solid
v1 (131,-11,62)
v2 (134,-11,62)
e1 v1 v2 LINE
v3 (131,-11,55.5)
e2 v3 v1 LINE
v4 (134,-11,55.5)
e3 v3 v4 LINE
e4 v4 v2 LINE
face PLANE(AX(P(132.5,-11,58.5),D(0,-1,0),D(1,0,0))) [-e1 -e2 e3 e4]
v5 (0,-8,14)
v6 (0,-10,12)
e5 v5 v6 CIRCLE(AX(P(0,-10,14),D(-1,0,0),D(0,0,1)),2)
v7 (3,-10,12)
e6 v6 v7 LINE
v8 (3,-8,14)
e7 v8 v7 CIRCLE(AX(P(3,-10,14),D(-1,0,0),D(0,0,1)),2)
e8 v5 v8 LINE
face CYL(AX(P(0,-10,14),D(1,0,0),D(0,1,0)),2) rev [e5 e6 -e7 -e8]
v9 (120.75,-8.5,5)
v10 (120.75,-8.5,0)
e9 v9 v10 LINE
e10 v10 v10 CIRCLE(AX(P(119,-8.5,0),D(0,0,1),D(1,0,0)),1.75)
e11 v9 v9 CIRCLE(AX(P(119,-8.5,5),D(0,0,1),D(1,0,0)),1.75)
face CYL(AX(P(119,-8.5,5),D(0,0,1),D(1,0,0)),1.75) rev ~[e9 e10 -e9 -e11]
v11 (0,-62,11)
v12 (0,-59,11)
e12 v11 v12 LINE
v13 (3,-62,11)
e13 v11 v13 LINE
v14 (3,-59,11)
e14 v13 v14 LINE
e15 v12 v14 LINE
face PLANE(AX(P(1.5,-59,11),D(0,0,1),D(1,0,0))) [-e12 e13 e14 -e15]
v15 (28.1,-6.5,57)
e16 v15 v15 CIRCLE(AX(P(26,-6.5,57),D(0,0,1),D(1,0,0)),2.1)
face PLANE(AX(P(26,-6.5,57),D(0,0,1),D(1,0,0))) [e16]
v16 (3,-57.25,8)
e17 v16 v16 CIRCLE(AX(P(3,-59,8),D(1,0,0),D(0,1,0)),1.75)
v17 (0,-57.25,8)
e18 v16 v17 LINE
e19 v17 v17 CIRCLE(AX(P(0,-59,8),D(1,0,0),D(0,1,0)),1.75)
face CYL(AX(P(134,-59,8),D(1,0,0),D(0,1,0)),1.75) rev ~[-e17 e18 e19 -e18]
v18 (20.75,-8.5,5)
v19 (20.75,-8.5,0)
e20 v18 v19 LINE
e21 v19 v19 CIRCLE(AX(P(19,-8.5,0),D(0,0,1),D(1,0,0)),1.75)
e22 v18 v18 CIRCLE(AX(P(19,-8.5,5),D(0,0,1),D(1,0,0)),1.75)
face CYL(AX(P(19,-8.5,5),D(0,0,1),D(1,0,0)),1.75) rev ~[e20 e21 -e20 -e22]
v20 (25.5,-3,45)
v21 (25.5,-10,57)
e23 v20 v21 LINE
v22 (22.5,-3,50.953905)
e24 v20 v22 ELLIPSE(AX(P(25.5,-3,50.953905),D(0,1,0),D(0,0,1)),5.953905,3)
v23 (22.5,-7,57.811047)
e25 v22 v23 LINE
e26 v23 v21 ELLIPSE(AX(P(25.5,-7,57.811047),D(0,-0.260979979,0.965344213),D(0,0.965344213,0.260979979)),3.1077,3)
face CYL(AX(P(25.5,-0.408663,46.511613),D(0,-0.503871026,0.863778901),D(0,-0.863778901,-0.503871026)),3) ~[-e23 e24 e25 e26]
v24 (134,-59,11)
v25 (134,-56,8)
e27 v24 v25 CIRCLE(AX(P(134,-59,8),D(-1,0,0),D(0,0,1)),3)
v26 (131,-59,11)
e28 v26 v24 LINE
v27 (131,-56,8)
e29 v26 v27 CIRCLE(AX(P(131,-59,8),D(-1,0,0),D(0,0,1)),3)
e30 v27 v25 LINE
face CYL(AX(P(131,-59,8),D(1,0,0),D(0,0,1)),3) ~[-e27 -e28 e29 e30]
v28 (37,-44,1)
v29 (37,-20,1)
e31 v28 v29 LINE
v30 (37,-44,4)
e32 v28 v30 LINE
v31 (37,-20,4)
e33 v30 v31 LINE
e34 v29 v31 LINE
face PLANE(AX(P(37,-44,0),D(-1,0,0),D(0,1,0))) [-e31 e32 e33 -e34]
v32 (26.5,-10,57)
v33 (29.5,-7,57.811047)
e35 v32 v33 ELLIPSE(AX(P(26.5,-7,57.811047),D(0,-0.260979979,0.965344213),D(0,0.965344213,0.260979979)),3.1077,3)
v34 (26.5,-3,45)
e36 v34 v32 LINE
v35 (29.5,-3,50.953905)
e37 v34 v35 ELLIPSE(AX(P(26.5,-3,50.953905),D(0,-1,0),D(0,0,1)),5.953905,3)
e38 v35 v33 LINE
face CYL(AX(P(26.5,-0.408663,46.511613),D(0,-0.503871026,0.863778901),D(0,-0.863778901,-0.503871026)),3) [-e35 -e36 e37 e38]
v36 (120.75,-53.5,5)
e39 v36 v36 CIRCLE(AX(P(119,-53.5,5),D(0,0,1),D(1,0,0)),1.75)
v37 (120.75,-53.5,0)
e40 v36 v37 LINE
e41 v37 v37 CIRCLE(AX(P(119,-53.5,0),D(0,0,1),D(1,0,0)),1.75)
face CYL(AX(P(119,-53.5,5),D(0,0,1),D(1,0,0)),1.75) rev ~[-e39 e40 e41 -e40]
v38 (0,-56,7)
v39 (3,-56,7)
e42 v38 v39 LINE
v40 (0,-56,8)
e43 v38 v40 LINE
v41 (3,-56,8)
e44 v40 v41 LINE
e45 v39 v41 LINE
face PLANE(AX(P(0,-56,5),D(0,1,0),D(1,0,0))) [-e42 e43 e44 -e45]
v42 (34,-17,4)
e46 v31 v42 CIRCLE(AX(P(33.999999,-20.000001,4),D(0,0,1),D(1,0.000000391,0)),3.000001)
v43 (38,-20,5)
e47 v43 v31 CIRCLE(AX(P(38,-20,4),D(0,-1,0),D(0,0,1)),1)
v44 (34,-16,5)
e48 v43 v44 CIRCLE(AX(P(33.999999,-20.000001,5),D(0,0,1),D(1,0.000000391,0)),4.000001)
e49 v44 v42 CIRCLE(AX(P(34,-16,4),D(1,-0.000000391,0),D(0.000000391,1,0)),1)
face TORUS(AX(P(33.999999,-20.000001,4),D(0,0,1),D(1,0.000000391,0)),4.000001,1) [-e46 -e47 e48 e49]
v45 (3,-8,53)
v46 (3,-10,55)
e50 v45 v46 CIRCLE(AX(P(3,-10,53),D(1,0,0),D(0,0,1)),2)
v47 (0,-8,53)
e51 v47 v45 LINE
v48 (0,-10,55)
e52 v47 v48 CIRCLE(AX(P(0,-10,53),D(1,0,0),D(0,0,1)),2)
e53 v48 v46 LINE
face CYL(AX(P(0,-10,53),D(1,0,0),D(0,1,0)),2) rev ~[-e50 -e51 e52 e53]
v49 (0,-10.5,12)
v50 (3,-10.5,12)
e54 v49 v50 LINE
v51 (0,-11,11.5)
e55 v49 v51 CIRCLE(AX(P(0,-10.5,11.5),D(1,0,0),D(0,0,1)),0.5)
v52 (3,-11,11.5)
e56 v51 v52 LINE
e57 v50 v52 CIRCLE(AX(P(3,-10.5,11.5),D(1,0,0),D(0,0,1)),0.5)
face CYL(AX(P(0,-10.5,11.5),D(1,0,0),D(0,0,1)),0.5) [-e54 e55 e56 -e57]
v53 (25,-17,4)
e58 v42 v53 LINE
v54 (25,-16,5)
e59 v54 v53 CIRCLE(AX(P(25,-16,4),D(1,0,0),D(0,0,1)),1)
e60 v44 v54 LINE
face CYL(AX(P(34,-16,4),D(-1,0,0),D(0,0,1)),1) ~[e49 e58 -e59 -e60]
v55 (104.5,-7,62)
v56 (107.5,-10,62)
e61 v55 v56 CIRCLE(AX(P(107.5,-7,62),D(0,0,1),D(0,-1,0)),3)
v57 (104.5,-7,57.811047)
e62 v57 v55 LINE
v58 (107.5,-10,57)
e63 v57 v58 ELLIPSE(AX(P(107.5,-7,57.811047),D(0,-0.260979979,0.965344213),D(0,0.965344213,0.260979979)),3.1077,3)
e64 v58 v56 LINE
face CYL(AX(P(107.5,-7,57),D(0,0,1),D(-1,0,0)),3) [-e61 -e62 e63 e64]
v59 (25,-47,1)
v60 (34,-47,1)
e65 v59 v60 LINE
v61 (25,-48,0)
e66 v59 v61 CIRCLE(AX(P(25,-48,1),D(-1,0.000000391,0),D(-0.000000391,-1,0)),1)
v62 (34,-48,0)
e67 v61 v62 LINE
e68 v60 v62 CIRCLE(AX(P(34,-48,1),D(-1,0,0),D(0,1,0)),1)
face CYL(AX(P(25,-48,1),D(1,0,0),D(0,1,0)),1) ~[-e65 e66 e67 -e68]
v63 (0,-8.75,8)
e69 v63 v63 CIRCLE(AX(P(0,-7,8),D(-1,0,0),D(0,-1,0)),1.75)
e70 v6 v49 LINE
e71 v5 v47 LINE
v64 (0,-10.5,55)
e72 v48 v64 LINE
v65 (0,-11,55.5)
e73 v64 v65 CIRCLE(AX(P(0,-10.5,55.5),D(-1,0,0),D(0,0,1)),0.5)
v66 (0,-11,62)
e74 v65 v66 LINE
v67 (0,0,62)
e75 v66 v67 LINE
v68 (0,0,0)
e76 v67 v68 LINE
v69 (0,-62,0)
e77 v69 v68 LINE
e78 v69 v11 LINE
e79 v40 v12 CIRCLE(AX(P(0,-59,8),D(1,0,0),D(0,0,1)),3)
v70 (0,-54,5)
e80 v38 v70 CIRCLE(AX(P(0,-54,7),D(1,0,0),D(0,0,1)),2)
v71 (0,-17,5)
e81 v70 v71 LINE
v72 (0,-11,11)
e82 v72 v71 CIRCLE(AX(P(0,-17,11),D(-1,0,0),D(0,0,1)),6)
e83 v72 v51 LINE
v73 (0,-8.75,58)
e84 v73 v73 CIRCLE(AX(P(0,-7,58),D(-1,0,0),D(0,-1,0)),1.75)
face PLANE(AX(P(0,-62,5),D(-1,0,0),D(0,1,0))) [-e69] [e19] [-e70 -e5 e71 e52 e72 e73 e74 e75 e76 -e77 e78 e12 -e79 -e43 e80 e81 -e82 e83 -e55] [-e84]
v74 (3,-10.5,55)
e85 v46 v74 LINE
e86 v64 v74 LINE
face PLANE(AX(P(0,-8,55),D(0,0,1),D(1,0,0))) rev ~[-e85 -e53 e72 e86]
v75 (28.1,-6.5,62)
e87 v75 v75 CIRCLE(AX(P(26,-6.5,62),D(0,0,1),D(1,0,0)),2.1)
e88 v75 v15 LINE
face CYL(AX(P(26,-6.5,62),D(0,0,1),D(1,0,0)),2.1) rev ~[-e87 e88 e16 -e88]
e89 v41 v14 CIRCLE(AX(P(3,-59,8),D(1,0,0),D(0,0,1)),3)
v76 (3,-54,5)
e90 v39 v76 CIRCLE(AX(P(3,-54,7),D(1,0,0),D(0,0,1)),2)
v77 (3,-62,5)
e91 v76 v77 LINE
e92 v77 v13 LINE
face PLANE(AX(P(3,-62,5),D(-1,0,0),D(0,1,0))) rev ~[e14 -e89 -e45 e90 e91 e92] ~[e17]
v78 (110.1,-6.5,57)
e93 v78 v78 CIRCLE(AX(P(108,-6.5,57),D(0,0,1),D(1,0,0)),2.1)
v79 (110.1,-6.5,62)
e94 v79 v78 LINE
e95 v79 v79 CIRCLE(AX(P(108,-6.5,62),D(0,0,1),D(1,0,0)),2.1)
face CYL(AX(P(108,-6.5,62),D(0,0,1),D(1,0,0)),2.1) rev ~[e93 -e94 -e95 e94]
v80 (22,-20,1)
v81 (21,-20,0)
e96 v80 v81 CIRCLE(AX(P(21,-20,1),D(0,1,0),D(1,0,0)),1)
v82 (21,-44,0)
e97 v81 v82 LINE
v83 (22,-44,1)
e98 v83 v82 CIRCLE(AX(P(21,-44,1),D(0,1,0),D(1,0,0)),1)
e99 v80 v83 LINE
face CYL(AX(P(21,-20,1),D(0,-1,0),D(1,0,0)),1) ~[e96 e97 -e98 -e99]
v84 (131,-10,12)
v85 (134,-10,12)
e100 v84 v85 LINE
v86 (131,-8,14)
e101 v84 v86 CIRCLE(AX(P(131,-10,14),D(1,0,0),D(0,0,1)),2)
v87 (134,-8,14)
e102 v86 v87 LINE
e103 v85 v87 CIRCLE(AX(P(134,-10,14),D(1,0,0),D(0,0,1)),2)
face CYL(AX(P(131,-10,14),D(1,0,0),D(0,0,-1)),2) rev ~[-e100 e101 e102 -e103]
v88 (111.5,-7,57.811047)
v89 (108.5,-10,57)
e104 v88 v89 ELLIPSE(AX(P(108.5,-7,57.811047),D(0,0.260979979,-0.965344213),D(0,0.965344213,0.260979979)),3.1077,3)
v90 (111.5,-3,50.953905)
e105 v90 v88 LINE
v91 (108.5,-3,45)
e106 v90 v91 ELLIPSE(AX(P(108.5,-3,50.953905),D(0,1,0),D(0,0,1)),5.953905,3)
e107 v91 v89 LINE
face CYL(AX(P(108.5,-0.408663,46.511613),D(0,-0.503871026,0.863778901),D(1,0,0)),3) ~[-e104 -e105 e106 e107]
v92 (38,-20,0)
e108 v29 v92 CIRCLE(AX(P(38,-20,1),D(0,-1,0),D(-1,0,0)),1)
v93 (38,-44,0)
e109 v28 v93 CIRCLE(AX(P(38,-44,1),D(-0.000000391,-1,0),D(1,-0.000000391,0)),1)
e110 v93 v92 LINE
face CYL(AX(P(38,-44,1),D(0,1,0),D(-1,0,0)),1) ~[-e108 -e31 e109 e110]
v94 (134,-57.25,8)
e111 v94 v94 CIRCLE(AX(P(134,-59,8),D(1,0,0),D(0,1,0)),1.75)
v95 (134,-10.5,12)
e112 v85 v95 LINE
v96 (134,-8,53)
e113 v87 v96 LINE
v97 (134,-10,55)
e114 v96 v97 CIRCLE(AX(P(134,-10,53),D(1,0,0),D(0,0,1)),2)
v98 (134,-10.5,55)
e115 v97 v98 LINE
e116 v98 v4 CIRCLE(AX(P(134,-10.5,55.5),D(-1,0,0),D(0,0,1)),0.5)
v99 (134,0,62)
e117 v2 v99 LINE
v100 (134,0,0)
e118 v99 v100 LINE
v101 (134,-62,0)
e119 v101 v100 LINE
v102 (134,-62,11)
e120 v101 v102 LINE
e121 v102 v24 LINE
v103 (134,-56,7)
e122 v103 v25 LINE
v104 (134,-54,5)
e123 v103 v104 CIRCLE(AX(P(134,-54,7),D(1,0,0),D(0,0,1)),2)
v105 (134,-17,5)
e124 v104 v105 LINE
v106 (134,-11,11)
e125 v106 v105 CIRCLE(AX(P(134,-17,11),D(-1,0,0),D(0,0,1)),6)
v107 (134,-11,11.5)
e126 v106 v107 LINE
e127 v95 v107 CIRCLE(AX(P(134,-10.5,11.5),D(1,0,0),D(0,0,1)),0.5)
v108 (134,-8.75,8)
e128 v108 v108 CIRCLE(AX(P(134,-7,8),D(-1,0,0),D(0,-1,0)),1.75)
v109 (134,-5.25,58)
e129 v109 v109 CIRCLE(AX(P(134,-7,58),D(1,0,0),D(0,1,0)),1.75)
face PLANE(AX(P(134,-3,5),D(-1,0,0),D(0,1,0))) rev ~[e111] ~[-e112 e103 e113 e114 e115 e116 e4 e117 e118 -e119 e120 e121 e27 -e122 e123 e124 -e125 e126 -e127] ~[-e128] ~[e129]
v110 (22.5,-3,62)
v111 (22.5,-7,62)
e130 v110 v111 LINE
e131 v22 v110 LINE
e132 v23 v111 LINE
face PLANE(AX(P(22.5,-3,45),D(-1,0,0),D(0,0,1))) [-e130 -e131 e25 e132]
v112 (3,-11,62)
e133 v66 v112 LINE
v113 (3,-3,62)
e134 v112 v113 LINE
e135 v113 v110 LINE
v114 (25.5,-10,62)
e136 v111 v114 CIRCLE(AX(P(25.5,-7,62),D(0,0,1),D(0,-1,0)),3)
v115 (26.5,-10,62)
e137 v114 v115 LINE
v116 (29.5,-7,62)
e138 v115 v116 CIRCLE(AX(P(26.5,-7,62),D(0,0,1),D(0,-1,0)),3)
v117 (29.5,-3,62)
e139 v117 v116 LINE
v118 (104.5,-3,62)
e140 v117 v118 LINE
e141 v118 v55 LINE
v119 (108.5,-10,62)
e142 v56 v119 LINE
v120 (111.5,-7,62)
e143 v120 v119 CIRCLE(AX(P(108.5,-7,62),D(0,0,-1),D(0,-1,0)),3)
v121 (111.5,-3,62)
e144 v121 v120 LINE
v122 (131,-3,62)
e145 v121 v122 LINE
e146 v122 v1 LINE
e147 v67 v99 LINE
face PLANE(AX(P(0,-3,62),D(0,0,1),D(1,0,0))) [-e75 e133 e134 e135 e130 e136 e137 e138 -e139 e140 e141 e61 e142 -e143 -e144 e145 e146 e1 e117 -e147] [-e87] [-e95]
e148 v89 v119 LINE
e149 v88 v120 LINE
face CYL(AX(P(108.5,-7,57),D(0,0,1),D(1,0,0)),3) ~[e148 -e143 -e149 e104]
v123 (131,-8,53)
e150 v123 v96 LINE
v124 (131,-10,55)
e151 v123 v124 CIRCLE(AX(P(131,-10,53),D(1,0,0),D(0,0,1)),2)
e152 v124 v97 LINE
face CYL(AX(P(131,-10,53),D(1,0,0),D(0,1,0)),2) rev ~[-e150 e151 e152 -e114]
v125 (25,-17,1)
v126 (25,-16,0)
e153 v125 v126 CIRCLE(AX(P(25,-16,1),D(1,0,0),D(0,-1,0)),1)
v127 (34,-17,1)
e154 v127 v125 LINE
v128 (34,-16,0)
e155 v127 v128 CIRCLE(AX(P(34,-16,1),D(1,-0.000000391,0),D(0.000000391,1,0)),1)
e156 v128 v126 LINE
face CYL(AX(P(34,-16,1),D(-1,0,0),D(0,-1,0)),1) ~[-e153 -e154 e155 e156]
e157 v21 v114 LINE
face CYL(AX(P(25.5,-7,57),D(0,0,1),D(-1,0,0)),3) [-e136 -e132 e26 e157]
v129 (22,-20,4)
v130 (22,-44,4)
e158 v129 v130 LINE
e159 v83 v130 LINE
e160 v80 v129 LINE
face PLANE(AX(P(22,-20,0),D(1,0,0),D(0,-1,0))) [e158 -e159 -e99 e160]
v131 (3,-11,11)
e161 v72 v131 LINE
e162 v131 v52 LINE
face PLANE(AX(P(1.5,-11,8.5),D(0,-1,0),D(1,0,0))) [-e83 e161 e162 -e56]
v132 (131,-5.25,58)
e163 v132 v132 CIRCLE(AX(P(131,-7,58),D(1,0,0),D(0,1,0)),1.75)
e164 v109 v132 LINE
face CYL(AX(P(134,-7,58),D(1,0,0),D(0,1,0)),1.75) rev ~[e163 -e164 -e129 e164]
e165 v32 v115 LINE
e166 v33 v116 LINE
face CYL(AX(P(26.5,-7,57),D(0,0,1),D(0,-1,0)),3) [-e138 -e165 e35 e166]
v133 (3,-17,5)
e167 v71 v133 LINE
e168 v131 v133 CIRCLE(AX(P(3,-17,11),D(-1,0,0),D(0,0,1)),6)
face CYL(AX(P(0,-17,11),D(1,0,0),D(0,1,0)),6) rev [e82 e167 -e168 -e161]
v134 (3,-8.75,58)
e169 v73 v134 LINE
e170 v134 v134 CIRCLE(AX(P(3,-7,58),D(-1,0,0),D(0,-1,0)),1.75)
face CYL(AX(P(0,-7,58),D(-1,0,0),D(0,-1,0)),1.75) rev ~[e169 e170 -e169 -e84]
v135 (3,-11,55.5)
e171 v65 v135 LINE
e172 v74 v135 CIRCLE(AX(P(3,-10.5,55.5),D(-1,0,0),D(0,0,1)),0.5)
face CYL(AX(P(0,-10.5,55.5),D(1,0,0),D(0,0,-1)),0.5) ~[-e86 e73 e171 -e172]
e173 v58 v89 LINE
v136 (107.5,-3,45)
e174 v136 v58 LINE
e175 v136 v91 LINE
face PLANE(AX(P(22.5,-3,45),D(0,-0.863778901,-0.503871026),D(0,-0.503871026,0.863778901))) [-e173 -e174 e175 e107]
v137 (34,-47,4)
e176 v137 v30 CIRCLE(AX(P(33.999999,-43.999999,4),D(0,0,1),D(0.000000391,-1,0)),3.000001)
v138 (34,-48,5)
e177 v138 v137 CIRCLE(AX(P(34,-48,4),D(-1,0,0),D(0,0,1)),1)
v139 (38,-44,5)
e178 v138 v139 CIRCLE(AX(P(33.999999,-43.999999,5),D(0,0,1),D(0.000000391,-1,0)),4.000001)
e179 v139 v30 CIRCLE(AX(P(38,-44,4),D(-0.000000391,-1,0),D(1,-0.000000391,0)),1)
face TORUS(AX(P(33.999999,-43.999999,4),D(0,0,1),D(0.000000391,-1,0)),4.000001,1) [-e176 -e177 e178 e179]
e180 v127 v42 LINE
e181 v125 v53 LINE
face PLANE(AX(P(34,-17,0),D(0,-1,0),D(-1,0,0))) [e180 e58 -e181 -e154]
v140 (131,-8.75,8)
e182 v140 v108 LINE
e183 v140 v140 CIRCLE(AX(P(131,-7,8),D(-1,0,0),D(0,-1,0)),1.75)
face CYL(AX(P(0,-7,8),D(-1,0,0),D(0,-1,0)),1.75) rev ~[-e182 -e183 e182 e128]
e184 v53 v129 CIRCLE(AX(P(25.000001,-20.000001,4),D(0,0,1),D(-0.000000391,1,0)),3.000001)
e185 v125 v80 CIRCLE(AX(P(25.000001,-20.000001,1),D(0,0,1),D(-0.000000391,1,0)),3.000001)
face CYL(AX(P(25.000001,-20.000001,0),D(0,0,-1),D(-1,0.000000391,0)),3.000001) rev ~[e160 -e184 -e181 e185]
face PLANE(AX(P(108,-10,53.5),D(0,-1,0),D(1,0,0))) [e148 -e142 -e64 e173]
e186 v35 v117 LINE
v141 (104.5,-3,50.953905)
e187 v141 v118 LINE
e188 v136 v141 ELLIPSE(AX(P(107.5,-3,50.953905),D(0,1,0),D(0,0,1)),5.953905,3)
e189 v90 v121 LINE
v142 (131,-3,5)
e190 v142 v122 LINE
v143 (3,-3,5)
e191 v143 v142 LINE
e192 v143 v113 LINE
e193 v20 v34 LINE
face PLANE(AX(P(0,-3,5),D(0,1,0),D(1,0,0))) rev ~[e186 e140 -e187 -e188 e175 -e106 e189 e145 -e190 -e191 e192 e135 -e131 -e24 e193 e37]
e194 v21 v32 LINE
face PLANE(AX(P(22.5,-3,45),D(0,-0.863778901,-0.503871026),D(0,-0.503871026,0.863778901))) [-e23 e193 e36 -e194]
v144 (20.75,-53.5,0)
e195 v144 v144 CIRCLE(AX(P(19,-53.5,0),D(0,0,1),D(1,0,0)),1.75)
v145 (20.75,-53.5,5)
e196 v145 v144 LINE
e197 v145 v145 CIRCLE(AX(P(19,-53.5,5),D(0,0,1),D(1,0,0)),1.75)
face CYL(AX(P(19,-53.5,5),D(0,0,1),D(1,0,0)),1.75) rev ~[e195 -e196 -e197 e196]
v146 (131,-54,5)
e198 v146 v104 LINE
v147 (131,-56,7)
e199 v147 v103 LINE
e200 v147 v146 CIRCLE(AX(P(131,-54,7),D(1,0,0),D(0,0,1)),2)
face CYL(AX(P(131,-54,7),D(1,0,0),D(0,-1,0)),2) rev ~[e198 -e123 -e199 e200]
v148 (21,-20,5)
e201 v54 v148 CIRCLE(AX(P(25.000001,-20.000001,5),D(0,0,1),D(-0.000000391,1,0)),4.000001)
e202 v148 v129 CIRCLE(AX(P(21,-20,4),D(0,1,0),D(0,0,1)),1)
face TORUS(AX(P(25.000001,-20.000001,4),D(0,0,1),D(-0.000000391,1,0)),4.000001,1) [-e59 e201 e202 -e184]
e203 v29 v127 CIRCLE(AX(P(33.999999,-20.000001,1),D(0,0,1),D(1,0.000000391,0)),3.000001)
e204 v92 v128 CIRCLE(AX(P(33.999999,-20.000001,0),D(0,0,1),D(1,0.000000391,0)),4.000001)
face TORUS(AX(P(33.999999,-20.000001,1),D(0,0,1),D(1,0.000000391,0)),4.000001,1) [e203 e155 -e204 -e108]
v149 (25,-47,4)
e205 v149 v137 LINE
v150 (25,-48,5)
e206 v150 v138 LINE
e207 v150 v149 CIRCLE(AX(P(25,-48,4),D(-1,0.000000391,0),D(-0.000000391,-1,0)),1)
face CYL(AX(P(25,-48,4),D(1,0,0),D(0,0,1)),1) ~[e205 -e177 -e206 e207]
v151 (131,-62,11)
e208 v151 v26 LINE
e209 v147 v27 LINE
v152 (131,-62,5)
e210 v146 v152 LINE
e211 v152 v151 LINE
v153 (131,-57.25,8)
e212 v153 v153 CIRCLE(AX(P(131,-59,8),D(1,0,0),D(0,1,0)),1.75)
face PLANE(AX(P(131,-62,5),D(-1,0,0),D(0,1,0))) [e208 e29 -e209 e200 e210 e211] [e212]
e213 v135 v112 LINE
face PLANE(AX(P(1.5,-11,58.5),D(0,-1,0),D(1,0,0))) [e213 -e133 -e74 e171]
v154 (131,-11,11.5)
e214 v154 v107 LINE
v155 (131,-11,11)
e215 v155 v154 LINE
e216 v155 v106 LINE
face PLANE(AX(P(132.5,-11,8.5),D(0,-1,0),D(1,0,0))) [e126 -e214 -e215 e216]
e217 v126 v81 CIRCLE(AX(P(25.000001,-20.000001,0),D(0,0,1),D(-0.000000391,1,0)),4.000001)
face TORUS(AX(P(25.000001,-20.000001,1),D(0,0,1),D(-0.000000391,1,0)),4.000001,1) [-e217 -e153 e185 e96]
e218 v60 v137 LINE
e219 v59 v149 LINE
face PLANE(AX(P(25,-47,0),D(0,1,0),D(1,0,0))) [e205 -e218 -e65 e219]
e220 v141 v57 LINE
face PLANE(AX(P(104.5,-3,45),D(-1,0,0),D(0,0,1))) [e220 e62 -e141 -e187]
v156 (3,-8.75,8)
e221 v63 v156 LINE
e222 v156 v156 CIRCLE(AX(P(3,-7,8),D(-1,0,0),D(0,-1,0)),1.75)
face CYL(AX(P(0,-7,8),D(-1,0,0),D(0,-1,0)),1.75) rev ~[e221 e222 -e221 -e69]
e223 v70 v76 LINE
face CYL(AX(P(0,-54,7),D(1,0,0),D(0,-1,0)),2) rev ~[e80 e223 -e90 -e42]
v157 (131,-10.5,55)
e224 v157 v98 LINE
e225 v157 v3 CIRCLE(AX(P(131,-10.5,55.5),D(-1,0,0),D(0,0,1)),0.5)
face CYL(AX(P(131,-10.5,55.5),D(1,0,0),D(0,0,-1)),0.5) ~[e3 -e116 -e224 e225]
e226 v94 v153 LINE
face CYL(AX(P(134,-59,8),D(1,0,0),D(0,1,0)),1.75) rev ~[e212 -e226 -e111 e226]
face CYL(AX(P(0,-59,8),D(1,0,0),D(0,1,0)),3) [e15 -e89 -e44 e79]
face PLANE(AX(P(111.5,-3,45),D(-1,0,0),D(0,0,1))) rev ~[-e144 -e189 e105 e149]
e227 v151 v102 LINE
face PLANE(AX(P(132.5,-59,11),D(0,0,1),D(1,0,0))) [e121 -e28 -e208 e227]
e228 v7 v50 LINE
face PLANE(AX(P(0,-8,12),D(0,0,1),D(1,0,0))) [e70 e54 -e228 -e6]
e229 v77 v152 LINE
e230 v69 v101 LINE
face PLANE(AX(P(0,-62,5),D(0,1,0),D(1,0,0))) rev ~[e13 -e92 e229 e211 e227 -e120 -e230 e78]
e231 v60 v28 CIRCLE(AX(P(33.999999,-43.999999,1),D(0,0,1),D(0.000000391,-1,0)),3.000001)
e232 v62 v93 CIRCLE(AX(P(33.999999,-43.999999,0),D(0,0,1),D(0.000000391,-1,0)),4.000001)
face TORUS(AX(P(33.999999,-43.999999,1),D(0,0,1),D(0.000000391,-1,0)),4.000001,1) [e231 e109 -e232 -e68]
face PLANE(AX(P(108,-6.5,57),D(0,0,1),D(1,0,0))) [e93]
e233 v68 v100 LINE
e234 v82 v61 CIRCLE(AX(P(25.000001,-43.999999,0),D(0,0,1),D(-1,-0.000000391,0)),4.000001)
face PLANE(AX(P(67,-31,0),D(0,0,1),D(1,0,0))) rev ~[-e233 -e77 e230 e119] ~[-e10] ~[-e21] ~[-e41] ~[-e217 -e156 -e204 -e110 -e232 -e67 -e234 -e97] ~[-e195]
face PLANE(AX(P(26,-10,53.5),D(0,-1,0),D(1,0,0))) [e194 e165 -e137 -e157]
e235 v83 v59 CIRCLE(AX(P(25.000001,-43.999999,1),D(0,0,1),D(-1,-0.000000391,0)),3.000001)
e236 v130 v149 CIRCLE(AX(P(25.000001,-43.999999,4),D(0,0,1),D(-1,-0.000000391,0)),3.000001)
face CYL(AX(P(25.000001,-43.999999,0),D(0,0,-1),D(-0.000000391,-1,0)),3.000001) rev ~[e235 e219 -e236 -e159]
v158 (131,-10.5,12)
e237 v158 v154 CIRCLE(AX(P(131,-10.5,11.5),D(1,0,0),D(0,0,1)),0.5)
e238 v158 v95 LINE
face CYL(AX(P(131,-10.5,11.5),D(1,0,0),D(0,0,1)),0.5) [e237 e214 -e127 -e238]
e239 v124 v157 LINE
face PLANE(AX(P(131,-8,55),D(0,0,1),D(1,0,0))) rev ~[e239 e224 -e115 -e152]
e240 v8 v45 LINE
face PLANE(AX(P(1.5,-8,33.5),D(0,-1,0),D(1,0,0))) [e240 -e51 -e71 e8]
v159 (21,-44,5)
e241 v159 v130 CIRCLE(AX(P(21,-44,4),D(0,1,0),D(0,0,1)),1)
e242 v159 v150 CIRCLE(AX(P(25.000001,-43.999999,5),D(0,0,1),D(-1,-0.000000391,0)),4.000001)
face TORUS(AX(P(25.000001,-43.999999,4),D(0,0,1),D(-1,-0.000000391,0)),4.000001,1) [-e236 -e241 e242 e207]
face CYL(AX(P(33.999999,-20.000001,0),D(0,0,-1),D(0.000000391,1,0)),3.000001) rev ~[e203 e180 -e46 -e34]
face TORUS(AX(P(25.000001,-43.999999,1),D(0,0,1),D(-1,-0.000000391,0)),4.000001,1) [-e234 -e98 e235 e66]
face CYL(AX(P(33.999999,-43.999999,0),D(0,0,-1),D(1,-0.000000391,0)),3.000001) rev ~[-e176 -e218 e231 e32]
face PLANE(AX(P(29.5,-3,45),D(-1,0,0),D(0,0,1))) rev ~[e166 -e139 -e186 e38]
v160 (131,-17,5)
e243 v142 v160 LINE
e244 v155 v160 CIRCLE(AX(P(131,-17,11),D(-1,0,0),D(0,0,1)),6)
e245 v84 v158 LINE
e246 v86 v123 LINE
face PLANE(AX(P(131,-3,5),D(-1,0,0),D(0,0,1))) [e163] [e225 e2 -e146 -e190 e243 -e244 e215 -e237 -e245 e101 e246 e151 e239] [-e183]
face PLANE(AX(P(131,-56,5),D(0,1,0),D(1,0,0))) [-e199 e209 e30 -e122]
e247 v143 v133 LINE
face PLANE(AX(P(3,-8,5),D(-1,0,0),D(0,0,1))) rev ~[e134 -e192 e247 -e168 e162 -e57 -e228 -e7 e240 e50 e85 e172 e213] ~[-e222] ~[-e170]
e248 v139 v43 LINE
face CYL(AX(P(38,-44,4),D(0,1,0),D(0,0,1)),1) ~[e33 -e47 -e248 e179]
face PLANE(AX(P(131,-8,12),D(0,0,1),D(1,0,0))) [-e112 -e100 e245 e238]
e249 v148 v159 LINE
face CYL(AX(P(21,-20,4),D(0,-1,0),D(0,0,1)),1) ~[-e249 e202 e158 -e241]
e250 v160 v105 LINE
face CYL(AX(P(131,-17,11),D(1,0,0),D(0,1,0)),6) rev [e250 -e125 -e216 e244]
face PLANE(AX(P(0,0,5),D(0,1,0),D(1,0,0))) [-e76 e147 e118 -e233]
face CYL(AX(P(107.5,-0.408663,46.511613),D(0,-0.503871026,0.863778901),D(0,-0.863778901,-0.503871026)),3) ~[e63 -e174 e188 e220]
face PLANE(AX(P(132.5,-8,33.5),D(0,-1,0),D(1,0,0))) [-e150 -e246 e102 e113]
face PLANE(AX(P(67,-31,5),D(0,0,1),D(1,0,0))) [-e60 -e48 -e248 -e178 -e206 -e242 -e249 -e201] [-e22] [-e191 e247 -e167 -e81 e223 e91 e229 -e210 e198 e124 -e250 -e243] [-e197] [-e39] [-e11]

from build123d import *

# Parameters (mm, degrees)
SKETCH_W        = 134
SKETCH_H        = 62
PAD_DEPTH       = 5
SKETCH001_W     = 134
SKETCH001_H     = 3
PAD001_DEPTH    = 57
SKETCH002_W     = 7
SKETCH002_H     = 17
PAD002_DEPTH    = 7
POCKET_DEPTH    = 89
FILLET_R        = 3
SKETCH004_W     = 3
SKETCH004_H     = 57
PAD003_DEPTH    = 5
SKETCH005_W     = 3
SKETCH005_H     = 7
PAD004_DEPTH    = 3
SKETCH006_R     = 1.75
POCKET001_DEPTH = 134.001
SKETCH007_R     = 1.75
POCKET002_DEPTH = 5
SKETCH008_R     = 1.75
POCKET003_DEPTH = 5
SKETCH009_W     = 3
SKETCH009_H     = 6
PAD005_DEPTH    = 6
SKETCH010_R     = 1.75
POCKET004_DEPTH = 134.001
FILLET001_R     = 3
FILLET002_R     = 2
FILLET003_R     = 3
FILLET004_R     = 2
FILLET005_R     = 6
FILLET006_R     = 6
FILLET007_R     = 2
FILLET008_R     = 0.5
FILLET009_R     = 2
FILLET010_R     = 0.5
FILLET011_R     = 2
FILLET012_R     = 0.5
FILLET013_R     = 2
FILLET014_R     = 0.5
SKETCH011_R     = 1.75
POCKET005_DEPTH = 5
SKETCH012_R     = 2.1
POCKET006_DEPTH = 5
POCKET007_DEPTH = 5
FILLET015_R     = 1
FILLET016_R     = 1


with BuildPart() as part:
    # Sketch → Pad (new body)
    with BuildSketch(Plane.XY):
        with Locations((67, -31)):
            Rectangle(SKETCH_W, SKETCH_H)
    extrude(amount=PAD_DEPTH)

    # Sketch001 (on Face6 of Pad) → Pad001 (join)
    with BuildSketch(Plane.XY.offset(5)):
        with Locations((67, -1.5)):
            Rectangle(SKETCH001_W, SKETCH001_H)
    extrude(amount=PAD001_DEPTH)

    # Sketch002 (on Face11 of Pad001) → Pad002 (join)
    with BuildSketch(Plane.XZ.offset(3)):
        with Locations((26, 53.5)):
            Rectangle(SKETCH002_W, SKETCH002_H)
        with Locations((108, 53.5)):
            Rectangle(SKETCH002_W, SKETCH002_H)
    extrude(amount=PAD002_DEPTH)

    # Sketch003 (on Face14 of Pad002) → Pocket (cut)
    with BuildSketch(Plane(origin=(22.5, 0, 0), x_dir=(0, -1, 0), z_dir=(-1, 0, 0))):
        Polygon((3, 45), (10, 57), (10, 45), align=None)
    extrude(amount=-POCKET_DEPTH, mode=Mode.SUBTRACT)

    # Fillet
    fillet_edges = [part.edges().sort_by_distance(p)[0] for p in [
        (104.5, -10, 59.5),
        (111.5, -10, 59.5),
        (111.5, -6.5, 51),
        (104.5, -6.5, 51),
        (22.5, -10, 59.5),
        (29.5, -10, 59.5),
        (29.5, -6.5, 51),
        (22.5, -6.5, 51),
    ]]
    fillet(fillet_edges, radius=FILLET_R)

    # Sketch004 (on Face1 of Fillet) → Pad003 (join)
    with BuildSketch(Plane.XZ.offset(3)):
        with Locations((1.5, 33.5)):
            Rectangle(SKETCH004_W, SKETCH004_H)
        with Locations((132.5, 33.5)):
            Rectangle(SKETCH004_W, SKETCH004_H)
    extrude(amount=PAD003_DEPTH)

    # Sketch005 (on Face32 of Pad003) → Pad004 (join)
    with BuildSketch(Plane.XZ.offset(8)):
        with Locations((1.5, 8.5)):
            Rectangle(SKETCH005_W, SKETCH005_H)
        with Locations((1.5, 58.5)):
            Rectangle(SKETCH005_W, SKETCH005_H)
        with Locations((132.5, 8.5)):
            Rectangle(SKETCH005_W, SKETCH005_H)
        with Locations((132.5, 58.5)):
            Rectangle(SKETCH005_W, SKETCH005_H)
    extrude(amount=PAD004_DEPTH)

    # Sketch006 (on Face44 of Pad004) → Pocket001 (cut, through all)
    with BuildSketch(Plane(origin=(0, 0, 0), x_dir=(0, -1, 0), z_dir=(-1, 0, 0))):
        with Locations((7, 8)):
            Circle(SKETCH006_R)
    extrude(amount=-POCKET001_DEPTH, mode=Mode.SUBTRACT)

    # Sketch007 (on Face46 of Pocket001) → Pocket002 (cut)
    with BuildSketch(Plane(origin=(0, 0, 0), x_dir=(0, -1, 0), z_dir=(-1, 0, 0))):
        with Locations((7, 58)):
            Circle(SKETCH007_R)
    extrude(amount=-POCKET002_DEPTH, mode=Mode.SUBTRACT)

    # Sketch008 (on Face45 of Pocket002) → Pocket003 (cut)
    with BuildSketch(Plane.YZ.offset(134)):
        with Locations((-7, 58)):
            Circle(SKETCH008_R)
    extrude(amount=-POCKET003_DEPTH, mode=Mode.SUBTRACT)

    # Sketch009 (on Face10 of Pocket003) → Pad005 (join)
    with BuildSketch(Plane.XY.offset(5)):
        with Locations((1.5, -59)):
            Rectangle(SKETCH009_W, SKETCH009_H)
        with Locations((132.5, -59)):
            Rectangle(SKETCH009_W, SKETCH009_H)
    extrude(amount=PAD005_DEPTH)

    # Sketch010 (on Face60 of Pad005) → Pocket004 (cut, through all)
    with BuildSketch(Plane.YZ.offset(134)):
        with Locations((-59, 8)):
            Circle(SKETCH010_R)
    extrude(amount=-POCKET004_DEPTH, mode=Mode.SUBTRACT)

    # Fillet001
    fillet001_edges = [part.edges().sort_by_distance(p)[0] for p in [
        (132.5, -56, 11),
    ]]
    fillet(fillet001_edges, radius=FILLET001_R)

    # Fillet002
    fillet002_edges = [part.edges().sort_by_distance(p)[0] for p in [
        (132.5, -56, 5),
    ]]
    fillet(fillet002_edges, radius=FILLET002_R)

    # Fillet003
    fillet003_edges = [part.edges().sort_by_distance(p)[0] for p in [
        (1.5, -56, 11),
    ]]
    fillet(fillet003_edges, radius=FILLET003_R)

    # Fillet004
    fillet004_edges = [part.edges().sort_by_distance(p)[0] for p in [
        (1.5, -56, 5),
    ]]
    fillet(fillet004_edges, radius=FILLET004_R)

    # Fillet005
    fillet005_edges = [part.edges().sort_by_distance(p)[0] for p in [
        (1.5, -11, 5),
    ]]
    fillet(fillet005_edges, radius=FILLET005_R)

    # Fillet006
    fillet006_edges = [part.edges().sort_by_distance(p)[0] for p in [
        (132.5, -11, 5),
    ]]
    fillet(fillet006_edges, radius=FILLET006_R)

    # Fillet007
    fillet007_edges = [part.edges().sort_by_distance(p)[0] for p in [
        (1.5, -8, 12),
    ]]
    fillet(fillet007_edges, radius=FILLET007_R)

    # Fillet008
    fillet008_edges = [part.edges().sort_by_distance(p)[0] for p in [
        (1.5, -11, 12),
    ]]
    fillet(fillet008_edges, radius=FILLET008_R)

    # Fillet009
    fillet009_edges = [part.edges().sort_by_distance(p)[0] for p in [
        (132.5, -8, 12),
    ]]
    fillet(fillet009_edges, radius=FILLET009_R)

    # Fillet010
    fillet010_edges = [part.edges().sort_by_distance(p)[0] for p in [
        (132.5, -11, 12),
    ]]
    fillet(fillet010_edges, radius=FILLET010_R)

    # Fillet011
    fillet011_edges = [part.edges().sort_by_distance(p)[0] for p in [
        (1.5, -8, 55),
    ]]
    fillet(fillet011_edges, radius=FILLET011_R)

    # Fillet012
    fillet012_edges = [part.edges().sort_by_distance(p)[0] for p in [
        (1.5, -11, 55),
    ]]
    fillet(fillet012_edges, radius=FILLET012_R)

    # Fillet013
    fillet013_edges = [part.edges().sort_by_distance(p)[0] for p in [
        (132.5, -8, 55),
    ]]
    fillet(fillet013_edges, radius=FILLET013_R)

    # Fillet014
    fillet014_edges = [part.edges().sort_by_distance(p)[0] for p in [
        (132.5, -11, 55),
    ]]
    fillet(fillet014_edges, radius=FILLET014_R)

    # Sketch011 (on Face13 of Fillet014) → Pocket005 (cut)
    with BuildSketch(Plane.XY.offset(5)):
        with Locations((19, -8.5)):
            Circle(SKETCH011_R)
        with Locations((19, -53.5)):
            Circle(SKETCH011_R)
        with Locations((119, -53.5)):
            Circle(SKETCH011_R)
        with Locations((119, -8.5)):
            Circle(SKETCH011_R)
    extrude(amount=-POCKET005_DEPTH, mode=Mode.SUBTRACT)

    # Sketch012 (on Face73 of Pocket005) → Pocket006 (cut)
    with BuildSketch(Plane.XY.offset(62)):
        with Locations((26, -6.5)):
            Circle(SKETCH012_R)
        with Locations((108, -6.5)):
            Circle(SKETCH012_R)
    extrude(amount=-POCKET006_DEPTH, mode=Mode.SUBTRACT)

    # Sketch013 (on Face47 of Pocket006) → Pocket007 (cut)
    with BuildSketch(Plane(origin=(0, 0, 0), x_dir=(1, 0, 0), z_dir=(0, 0, -1))):
        with BuildLine():
            ThreePointArc((25, 47), (22.87868, 46.12132), (22, 44))
            Line((22, 20), (22, 44))
            ThreePointArc((22, 20), (22.87868, 17.87868), (25, 17))
            Line((34, 17), (25, 17))
            ThreePointArc((34, 17), (36.12132, 17.87868), (37, 20))
            Line((37, 44), (37, 20))
            ThreePointArc((37, 44), (36.12132, 46.12132), (34, 47))
            Line((25, 47), (34, 47))
        make_face()
    extrude(amount=-POCKET007_DEPTH, mode=Mode.SUBTRACT)

    # Fillet015
    fillet015_edges = [part.edges().sort_by_distance(p)[0] for p in [
        (22, -32, 0),
        (22.87868, -46.12132, 0),
        (29.5, -47, 0),
        (36.12132, -46.12132, 0),
        (37, -32, 0),
        (36.12132, -17.87868, 0),
        (29.5, -17, 0),
        (22.87868, -17.87868, 0),
    ]]
    fillet(fillet015_edges, radius=FILLET015_R)

    # Fillet016
    fillet016_edges = [part.edges().sort_by_distance(p)[0] for p in [
        (22, -32, 5),
        (22.87868, -17.87868, 5),
        (29.5, -17, 5),
        (36.12132, -17.87868, 5),
        (37, -32, 5),
        (36.12132, -46.12132, 5),
        (29.5, -47, 5),
        (22.87868, -46.12132, 5),
    ]]
    fillet(fillet016_edges, radius=FILLET016_R)


solid = part.part
